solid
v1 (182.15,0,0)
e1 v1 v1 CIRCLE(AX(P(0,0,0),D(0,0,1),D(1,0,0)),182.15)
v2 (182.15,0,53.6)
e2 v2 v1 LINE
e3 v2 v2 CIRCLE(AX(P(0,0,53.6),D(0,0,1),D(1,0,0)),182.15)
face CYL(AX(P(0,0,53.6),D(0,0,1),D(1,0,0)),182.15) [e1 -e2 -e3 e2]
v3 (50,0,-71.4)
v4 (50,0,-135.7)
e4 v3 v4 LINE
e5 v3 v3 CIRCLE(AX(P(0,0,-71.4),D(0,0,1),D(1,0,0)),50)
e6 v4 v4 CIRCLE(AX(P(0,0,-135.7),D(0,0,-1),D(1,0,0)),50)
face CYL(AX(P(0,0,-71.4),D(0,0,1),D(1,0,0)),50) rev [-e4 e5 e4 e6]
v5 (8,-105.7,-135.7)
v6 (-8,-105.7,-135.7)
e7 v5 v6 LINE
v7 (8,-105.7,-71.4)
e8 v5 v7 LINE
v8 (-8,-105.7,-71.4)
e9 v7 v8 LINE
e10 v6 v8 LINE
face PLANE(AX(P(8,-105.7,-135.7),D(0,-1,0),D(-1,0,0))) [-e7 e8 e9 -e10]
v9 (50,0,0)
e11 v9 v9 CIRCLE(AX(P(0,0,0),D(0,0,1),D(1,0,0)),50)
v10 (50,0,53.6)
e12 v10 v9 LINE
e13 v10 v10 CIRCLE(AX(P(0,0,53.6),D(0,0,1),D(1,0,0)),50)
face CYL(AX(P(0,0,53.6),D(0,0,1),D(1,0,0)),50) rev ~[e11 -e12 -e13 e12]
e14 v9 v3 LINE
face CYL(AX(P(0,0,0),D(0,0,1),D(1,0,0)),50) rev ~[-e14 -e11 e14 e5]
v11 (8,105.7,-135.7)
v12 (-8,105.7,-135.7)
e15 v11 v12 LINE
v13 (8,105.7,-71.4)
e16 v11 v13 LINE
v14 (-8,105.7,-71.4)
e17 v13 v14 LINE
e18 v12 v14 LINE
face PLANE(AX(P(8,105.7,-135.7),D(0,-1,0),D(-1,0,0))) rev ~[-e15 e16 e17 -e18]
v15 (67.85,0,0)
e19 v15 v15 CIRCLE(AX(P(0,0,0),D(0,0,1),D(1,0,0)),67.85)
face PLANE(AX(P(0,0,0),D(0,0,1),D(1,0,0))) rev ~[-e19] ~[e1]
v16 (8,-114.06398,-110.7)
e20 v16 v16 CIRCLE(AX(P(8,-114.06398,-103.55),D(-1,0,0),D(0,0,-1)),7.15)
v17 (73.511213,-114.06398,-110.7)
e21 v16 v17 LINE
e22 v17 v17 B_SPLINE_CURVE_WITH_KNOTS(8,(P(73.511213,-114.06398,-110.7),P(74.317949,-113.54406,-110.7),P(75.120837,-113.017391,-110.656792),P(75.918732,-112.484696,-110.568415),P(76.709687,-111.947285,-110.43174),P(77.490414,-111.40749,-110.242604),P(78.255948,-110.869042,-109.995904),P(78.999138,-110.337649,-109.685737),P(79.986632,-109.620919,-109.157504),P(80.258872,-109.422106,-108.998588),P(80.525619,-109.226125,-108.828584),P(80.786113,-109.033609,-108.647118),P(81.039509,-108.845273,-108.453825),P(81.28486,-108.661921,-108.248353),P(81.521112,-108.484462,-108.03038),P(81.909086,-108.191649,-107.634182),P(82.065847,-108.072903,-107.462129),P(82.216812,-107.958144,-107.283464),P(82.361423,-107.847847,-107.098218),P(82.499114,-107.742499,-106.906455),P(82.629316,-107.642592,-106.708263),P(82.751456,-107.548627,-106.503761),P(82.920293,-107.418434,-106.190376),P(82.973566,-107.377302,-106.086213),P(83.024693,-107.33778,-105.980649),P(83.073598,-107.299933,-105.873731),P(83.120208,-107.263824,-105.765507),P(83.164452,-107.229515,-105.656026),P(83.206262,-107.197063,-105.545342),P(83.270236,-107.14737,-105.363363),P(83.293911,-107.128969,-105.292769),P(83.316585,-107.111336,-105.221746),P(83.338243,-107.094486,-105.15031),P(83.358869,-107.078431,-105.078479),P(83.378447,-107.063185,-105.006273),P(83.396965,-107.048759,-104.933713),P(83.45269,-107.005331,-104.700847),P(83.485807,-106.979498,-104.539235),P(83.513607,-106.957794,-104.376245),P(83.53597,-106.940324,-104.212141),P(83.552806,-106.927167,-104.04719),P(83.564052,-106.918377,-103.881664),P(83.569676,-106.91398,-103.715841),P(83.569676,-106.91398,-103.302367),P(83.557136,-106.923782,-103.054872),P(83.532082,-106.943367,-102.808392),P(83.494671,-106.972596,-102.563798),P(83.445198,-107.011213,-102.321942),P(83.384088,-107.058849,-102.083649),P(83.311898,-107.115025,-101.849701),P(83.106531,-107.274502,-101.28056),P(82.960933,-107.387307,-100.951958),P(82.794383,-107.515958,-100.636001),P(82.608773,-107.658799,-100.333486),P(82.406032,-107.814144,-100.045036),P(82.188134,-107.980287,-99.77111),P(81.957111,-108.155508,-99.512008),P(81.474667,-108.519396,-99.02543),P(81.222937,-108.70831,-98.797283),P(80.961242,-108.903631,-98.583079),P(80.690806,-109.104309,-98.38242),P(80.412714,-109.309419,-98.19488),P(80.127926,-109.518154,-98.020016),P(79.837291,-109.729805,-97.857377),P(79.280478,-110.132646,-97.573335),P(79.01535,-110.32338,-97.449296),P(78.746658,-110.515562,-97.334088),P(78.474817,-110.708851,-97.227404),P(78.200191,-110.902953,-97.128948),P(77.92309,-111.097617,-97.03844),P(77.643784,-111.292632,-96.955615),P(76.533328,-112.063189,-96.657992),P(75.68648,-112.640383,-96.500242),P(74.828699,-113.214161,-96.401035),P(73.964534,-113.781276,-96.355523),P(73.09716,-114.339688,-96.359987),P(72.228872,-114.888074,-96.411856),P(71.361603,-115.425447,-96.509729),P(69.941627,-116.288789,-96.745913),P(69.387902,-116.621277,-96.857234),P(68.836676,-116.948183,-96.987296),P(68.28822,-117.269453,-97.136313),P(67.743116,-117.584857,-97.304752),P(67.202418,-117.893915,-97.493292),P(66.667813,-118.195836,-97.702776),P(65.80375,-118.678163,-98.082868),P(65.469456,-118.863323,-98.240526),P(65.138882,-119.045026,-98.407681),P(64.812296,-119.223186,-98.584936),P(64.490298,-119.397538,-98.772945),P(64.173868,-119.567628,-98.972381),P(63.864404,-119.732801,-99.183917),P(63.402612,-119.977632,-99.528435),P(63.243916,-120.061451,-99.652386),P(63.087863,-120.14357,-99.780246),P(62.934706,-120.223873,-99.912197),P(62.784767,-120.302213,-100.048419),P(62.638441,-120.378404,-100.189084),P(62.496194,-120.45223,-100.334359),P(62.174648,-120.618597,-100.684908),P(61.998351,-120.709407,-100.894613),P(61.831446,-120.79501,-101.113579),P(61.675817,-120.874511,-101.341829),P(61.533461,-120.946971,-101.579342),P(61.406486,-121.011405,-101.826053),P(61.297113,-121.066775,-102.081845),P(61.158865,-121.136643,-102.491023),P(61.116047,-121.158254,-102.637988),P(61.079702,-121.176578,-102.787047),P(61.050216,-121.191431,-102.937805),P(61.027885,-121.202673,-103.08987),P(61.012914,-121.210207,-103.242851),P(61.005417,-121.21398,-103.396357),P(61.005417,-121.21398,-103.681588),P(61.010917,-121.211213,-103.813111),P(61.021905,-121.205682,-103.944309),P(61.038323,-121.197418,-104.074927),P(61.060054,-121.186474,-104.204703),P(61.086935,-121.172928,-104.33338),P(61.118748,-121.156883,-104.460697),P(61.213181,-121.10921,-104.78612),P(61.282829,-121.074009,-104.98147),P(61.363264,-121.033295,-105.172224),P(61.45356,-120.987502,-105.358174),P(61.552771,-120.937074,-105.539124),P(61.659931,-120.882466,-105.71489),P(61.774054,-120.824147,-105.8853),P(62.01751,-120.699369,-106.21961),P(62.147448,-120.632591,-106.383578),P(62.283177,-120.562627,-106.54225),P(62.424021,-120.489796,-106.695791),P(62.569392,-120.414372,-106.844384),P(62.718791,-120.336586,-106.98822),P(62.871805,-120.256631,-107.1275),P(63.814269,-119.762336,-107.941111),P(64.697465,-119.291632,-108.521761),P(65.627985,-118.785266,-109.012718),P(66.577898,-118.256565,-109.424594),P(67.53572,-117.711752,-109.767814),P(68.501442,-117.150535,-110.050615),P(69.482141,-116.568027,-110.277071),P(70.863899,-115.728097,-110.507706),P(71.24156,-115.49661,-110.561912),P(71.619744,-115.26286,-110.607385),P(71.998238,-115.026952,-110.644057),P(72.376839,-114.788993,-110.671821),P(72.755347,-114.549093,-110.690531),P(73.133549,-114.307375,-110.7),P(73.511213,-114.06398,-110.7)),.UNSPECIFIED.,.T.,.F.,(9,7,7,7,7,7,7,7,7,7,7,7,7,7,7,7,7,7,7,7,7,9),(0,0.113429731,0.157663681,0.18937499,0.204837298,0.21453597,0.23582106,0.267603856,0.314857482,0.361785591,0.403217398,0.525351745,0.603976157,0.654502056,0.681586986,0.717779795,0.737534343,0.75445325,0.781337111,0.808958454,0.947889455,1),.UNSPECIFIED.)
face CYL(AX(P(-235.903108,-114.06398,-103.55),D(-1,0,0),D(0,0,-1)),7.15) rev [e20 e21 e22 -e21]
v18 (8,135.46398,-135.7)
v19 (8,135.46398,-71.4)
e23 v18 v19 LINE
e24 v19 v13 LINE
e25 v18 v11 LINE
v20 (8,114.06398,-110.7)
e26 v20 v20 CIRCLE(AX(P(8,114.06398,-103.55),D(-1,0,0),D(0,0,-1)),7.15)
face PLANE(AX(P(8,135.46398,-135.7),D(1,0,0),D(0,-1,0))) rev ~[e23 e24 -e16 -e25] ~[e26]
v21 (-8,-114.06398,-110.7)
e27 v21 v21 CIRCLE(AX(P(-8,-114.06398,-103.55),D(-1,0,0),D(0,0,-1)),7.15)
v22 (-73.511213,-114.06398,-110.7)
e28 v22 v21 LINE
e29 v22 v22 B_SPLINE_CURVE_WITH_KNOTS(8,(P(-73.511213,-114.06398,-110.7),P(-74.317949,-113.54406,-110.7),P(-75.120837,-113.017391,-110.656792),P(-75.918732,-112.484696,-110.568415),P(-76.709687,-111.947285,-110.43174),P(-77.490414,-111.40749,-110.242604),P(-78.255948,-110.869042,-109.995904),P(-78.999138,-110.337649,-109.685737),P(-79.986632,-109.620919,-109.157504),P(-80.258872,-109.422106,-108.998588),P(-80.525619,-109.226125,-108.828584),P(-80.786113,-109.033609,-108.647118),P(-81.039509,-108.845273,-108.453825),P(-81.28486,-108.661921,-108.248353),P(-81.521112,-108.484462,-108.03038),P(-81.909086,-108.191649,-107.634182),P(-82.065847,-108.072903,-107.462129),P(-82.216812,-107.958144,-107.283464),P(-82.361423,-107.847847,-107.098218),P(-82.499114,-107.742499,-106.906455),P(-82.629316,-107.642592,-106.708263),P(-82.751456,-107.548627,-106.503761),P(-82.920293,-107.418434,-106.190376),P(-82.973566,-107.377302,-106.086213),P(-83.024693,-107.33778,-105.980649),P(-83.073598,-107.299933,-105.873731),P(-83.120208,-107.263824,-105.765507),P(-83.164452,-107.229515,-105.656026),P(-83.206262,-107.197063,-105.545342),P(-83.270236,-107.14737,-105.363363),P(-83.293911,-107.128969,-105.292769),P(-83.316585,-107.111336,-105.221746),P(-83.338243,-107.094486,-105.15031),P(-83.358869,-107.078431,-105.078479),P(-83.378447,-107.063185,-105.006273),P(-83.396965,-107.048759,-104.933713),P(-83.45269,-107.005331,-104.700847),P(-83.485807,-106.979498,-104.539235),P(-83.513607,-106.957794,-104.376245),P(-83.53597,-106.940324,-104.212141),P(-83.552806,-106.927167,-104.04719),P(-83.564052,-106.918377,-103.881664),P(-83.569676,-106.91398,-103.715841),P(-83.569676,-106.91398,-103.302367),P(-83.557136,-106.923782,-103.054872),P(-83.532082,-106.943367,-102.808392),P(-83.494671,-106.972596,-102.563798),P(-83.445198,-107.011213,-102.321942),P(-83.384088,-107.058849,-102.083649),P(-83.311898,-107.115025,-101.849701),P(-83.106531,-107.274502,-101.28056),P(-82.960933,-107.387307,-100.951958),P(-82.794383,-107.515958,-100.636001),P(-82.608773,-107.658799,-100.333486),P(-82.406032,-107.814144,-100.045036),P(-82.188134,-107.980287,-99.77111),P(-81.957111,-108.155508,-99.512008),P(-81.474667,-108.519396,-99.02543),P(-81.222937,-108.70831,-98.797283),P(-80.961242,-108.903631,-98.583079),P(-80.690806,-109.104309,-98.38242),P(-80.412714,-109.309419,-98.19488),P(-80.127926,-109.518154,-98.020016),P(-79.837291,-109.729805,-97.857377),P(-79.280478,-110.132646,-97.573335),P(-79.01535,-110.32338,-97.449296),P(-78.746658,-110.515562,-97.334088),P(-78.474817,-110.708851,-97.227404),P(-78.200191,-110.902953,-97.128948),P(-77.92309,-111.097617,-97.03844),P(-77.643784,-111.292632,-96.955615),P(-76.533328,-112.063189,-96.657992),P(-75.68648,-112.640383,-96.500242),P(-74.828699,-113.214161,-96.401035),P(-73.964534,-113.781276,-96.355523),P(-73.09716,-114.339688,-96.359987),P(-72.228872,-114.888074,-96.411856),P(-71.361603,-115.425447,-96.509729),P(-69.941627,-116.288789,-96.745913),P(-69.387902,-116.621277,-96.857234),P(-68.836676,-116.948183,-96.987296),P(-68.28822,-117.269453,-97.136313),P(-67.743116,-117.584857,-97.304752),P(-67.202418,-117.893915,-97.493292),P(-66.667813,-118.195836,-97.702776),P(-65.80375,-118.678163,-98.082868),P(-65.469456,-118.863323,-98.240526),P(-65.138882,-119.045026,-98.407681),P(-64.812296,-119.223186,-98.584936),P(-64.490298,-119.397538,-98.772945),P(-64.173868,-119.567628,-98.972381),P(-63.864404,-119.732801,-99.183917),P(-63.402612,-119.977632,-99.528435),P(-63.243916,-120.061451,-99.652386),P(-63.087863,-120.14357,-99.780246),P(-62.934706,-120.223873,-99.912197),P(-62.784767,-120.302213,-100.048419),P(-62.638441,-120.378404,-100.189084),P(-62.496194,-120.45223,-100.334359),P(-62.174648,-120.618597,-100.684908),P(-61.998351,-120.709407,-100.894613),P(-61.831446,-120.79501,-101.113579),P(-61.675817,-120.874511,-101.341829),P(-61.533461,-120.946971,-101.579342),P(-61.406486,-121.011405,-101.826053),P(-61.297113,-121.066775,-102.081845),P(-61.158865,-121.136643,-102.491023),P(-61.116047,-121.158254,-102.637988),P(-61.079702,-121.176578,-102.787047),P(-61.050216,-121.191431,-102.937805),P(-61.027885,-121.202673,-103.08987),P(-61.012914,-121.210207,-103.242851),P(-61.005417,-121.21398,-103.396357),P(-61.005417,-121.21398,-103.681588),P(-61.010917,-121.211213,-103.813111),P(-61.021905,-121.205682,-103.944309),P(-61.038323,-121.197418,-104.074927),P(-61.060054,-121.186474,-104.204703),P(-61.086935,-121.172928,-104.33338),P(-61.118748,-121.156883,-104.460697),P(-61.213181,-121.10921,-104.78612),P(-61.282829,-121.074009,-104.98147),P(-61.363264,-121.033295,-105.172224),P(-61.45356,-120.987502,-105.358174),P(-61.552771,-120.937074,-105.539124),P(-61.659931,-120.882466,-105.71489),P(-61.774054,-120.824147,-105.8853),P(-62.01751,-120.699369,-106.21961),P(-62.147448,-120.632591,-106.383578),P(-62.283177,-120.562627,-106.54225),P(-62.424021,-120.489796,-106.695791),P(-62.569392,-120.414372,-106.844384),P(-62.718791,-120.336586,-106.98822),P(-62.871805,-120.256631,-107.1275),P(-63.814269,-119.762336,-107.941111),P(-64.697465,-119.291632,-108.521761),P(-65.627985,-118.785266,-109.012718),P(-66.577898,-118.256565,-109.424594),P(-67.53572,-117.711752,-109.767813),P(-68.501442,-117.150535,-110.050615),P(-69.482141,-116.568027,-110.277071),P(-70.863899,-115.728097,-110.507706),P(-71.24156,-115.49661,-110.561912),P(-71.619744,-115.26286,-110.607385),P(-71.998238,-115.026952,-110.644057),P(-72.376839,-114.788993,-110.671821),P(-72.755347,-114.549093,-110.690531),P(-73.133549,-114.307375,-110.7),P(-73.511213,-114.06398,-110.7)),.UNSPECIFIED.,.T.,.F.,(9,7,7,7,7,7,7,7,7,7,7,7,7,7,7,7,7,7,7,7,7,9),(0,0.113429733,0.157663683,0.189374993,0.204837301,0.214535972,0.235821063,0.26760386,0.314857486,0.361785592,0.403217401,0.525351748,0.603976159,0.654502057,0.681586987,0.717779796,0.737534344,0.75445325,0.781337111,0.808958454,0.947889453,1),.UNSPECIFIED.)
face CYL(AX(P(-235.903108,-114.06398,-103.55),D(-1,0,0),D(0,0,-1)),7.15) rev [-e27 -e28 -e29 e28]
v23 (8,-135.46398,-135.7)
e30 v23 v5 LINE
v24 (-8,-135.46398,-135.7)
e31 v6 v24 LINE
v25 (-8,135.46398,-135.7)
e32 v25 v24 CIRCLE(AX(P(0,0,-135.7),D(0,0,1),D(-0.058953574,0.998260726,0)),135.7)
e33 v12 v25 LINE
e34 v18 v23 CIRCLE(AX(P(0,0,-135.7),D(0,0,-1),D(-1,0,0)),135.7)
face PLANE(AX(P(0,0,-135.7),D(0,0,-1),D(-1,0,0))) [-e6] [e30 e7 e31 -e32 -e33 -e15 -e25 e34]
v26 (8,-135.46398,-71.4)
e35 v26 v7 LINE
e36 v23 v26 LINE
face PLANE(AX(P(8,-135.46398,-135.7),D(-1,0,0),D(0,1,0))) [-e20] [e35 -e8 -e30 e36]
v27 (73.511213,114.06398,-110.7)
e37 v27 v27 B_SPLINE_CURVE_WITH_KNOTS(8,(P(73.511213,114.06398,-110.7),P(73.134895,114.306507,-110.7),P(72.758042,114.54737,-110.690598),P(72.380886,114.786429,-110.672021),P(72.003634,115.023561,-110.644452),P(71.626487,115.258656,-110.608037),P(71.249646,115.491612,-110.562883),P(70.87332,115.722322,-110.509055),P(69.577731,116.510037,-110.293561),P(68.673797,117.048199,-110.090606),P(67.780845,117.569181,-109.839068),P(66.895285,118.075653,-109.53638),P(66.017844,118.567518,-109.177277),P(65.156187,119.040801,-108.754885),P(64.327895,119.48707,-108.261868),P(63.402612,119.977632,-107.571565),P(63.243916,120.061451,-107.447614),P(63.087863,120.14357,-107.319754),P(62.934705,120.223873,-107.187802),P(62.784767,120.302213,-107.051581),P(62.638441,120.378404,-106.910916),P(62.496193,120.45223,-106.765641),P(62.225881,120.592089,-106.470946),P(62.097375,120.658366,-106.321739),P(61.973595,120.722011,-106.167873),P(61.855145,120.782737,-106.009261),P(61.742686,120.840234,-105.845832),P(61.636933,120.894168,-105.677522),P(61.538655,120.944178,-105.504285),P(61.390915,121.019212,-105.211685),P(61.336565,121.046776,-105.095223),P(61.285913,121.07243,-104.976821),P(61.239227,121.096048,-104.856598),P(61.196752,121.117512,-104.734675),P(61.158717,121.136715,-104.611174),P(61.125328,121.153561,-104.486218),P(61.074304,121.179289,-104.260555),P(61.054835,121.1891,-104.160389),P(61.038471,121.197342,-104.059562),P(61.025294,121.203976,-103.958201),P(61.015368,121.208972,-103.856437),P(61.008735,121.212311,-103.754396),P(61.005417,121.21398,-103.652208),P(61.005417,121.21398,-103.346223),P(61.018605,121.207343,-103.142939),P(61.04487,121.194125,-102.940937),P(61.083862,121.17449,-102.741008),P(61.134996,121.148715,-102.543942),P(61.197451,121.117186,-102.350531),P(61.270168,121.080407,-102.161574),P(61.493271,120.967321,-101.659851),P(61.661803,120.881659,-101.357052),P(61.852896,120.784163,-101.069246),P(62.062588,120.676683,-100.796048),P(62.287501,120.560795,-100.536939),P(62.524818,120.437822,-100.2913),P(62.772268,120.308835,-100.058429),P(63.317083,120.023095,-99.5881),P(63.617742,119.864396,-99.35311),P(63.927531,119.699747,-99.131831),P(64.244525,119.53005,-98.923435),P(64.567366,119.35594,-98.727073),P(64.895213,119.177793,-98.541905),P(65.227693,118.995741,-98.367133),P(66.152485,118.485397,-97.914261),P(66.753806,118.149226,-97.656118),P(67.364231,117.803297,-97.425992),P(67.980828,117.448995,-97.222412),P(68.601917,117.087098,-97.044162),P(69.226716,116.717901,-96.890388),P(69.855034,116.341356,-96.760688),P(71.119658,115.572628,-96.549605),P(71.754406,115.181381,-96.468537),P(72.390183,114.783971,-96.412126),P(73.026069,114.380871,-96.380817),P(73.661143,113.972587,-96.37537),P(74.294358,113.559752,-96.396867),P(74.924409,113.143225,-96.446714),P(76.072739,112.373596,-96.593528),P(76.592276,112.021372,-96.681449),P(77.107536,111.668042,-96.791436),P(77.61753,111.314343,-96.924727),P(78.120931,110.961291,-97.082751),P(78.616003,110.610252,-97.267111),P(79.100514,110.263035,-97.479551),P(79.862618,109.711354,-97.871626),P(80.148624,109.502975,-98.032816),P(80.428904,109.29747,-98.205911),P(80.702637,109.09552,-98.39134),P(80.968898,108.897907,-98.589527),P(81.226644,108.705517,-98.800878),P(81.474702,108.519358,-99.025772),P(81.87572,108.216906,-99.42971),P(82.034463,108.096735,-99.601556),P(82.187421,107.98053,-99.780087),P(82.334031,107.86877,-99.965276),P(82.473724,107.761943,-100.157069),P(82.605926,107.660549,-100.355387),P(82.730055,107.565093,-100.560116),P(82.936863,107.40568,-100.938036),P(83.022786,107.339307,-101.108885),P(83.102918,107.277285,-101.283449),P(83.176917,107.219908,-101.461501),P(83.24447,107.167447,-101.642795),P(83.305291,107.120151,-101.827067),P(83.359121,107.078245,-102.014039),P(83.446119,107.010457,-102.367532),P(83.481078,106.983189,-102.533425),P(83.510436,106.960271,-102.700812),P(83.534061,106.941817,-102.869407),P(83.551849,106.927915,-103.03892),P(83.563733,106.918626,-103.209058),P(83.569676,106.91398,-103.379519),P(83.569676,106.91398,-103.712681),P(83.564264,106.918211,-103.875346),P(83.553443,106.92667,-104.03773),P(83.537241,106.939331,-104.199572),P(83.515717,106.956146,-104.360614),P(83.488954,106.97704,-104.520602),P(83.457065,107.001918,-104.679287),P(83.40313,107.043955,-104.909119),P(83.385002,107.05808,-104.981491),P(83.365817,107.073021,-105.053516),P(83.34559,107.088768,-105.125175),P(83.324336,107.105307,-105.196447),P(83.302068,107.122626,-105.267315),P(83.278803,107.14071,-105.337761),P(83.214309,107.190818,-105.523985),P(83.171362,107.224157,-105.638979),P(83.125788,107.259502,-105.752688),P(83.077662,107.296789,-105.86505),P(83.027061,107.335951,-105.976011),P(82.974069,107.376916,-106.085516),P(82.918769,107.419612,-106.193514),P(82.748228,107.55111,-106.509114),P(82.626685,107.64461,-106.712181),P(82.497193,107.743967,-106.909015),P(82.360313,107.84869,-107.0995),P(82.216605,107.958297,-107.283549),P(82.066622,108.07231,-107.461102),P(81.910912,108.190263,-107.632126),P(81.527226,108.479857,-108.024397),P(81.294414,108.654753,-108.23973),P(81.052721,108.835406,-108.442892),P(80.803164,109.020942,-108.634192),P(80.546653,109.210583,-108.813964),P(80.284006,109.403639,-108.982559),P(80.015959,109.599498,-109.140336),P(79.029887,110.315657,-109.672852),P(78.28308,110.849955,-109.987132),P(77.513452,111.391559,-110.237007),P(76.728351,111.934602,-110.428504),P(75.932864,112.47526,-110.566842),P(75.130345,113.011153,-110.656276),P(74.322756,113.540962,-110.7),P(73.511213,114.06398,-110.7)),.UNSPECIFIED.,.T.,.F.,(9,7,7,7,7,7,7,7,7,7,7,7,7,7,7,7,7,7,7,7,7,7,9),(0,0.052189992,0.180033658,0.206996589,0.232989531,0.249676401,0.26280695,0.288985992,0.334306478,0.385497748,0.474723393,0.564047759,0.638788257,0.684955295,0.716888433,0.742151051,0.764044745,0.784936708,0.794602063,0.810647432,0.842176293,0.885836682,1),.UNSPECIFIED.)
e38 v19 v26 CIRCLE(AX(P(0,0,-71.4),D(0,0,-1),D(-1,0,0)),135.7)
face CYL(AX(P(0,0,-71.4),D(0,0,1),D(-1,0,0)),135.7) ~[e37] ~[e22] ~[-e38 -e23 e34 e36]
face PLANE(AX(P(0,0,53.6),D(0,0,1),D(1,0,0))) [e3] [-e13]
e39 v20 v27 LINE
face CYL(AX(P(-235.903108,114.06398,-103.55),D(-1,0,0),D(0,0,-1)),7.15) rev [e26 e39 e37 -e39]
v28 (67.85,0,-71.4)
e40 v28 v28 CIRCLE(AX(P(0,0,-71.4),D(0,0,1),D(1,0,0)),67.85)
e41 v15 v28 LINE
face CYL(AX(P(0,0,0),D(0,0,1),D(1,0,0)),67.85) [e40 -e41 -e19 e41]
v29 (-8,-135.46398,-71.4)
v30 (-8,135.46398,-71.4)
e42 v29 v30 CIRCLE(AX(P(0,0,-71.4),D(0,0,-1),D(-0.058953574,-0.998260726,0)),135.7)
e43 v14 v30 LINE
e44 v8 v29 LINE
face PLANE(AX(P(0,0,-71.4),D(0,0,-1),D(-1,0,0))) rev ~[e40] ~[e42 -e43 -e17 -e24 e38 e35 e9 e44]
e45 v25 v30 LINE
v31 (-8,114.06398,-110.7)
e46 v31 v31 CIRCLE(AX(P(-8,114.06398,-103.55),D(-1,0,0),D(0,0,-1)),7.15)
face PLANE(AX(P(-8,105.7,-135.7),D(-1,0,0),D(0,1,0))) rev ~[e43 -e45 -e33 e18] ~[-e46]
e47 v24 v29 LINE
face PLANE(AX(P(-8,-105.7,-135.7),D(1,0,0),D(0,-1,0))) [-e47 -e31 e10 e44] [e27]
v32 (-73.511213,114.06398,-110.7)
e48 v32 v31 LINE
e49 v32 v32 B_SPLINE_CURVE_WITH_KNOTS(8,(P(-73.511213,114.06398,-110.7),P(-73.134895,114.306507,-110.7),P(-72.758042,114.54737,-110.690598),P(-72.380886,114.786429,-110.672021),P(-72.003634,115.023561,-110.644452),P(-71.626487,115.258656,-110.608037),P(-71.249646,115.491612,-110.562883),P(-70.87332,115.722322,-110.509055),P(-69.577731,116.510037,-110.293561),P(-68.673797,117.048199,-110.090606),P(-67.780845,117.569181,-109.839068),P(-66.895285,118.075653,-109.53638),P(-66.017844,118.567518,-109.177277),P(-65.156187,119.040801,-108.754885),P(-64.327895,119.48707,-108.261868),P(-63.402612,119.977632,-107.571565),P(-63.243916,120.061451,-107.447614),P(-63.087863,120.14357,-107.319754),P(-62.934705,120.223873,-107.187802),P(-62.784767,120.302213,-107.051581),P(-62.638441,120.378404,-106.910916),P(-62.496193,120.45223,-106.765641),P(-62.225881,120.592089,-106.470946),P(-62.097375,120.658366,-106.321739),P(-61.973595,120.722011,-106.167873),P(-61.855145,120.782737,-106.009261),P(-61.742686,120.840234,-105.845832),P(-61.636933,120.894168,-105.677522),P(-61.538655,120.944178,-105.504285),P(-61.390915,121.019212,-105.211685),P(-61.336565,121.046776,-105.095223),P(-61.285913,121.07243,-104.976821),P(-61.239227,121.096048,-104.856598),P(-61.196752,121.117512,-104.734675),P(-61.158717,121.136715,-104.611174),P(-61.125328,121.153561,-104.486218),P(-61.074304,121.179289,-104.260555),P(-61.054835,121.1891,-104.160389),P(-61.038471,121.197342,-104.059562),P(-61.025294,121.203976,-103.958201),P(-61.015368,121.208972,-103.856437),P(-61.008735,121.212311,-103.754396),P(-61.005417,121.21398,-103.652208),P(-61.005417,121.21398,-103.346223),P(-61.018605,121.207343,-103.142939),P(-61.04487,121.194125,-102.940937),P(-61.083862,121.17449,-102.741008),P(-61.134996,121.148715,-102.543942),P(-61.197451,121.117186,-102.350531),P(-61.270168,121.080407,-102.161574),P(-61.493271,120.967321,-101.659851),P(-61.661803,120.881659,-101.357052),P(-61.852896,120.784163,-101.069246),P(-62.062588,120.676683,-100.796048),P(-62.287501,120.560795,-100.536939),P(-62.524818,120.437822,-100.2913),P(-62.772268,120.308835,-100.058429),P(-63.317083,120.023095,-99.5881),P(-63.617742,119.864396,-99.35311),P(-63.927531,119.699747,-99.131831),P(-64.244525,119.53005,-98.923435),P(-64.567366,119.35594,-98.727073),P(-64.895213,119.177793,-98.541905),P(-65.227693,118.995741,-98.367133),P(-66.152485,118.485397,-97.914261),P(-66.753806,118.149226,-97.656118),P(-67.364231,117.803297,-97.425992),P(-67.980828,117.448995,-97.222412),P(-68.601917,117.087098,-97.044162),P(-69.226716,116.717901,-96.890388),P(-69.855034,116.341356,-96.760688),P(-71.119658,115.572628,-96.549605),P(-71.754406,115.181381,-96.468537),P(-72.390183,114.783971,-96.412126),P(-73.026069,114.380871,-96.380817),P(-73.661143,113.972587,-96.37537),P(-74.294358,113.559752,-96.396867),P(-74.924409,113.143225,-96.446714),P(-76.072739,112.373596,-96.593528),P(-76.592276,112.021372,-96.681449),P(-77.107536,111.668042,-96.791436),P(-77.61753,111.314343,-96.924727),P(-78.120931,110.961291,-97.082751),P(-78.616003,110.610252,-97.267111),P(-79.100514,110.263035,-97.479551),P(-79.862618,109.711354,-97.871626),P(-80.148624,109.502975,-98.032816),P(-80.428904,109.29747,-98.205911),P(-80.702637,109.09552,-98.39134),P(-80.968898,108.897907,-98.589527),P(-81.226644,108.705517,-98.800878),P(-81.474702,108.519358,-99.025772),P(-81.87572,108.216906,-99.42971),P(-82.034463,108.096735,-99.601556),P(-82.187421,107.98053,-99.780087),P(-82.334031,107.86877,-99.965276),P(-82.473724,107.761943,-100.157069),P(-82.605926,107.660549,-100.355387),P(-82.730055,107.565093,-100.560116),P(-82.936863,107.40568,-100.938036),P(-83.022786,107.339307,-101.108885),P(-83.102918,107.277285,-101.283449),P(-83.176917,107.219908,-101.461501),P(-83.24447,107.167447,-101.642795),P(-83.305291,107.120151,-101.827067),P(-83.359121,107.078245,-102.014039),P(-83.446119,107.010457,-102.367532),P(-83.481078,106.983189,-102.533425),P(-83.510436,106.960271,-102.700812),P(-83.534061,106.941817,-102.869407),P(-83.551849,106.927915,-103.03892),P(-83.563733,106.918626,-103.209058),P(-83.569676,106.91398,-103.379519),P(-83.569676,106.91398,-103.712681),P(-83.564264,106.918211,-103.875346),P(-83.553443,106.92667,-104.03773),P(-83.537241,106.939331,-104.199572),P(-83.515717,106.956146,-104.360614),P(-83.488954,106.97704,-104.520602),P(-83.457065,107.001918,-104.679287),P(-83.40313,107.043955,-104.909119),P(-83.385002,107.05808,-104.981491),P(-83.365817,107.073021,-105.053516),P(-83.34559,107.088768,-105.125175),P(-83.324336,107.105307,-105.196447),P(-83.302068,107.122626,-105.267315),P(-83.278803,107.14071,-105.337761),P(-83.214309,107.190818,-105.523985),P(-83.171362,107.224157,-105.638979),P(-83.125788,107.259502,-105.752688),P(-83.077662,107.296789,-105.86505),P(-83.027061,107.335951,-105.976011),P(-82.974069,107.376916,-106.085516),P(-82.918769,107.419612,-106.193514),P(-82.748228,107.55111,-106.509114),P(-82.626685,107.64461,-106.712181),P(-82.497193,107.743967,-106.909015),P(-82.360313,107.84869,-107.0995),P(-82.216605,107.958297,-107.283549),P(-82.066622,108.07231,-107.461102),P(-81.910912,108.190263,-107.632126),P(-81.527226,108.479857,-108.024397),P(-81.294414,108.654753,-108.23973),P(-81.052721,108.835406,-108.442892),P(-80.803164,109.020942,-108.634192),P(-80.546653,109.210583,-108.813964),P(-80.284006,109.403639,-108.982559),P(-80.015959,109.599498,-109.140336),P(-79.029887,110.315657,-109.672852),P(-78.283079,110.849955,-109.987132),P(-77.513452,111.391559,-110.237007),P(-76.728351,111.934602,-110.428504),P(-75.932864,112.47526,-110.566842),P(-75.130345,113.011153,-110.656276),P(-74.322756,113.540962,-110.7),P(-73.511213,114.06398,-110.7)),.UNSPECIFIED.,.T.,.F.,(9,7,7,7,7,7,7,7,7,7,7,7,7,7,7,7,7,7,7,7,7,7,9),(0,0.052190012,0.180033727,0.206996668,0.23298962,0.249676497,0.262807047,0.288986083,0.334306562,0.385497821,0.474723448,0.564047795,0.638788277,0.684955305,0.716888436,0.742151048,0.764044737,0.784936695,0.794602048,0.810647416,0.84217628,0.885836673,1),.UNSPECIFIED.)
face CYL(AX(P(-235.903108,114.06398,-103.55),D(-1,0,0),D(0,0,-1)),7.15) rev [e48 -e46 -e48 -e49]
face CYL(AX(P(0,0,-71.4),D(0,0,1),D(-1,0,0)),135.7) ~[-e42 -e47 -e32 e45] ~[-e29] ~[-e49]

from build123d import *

# Parameters (mm, degrees)
ESQUISSE1_R                  = 67.85
ESQUISSE1_R_2                = 50
BOSS_EXTRU_1_DEPTH           = 71.4
ESQUISSE3_R                  = 135.7
ESQUISSE3_R_2                = 50
BOSS_EXTRU_2_DEPTH           = 64.3
ENL_V_MAT_EXTRU_2_DEPTH      = 236.039294587
ENL_V_MAT_EXTRU_3_DEPTH      = 235.903107685
ENL_V_MAT_EXTRU_3_DEPTH_BACK = 235.903107685
ESQUISSE7_R                  = 7.15
BOSS_EXTRU_3_START           = 53.6
ESQUISSE8_R                  = 182.15
ESQUISSE8_R_2                = 50
BOSS_EXTRU_3_DEPTH           = 53.6


with BuildPart() as part:
    # Esquisse1 → Boss.-Extru.1 (new body)
    with BuildSketch(Plane.XY):
        Circle(ESQUISSE1_R)
        Circle(ESQUISSE1_R_2, mode=Mode.SUBTRACT)
    extrude(amount=-BOSS_EXTRU_1_DEPTH)

    # Esquisse3 → Boss.-Extru.2 (add)
    with BuildSketch(Plane(origin=(0, 0, -71.4), x_dir=(-1, 0, 0), z_dir=(0, 0, -1))):
        Circle(ESQUISSE3_R)
        with Locations(Location((0, 0, 0), (0, 0, 180))):
            Circle(ESQUISSE3_R_2, mode=Mode.SUBTRACT)
    extrude(amount=BOSS_EXTRU_2_DEPTH)

    # Esquisse6 → Enlèv. mat.-Extru.2 (cut, through all)
    with BuildSketch(Plane(origin=(0, 0, -135.7), x_dir=(-1, 0, 0), z_dir=(0, 0, -1))):
        with BuildLine():
            Line((-8, 105.7), (8, 105.7))
            Line((8, 105.7), (8, 135.463980452))
            ThreePointArc((8, 135.463980452), (0, 135.7), (-8, 135.463980452))
            Line((-8, 135.463980452), (-8, 105.7))
        make_face()
        with BuildLine():
            Line((8, -105.7), (8, -135.463980452))
            ThreePointArc((8, -135.463980452), (0, -135.7), (-8, -135.463980452))
            Line((-8, -135.463980452), (-8, -105.7))
            Line((-8, -105.7), (8, -105.7))
        make_face()
    extrude(amount=-ENL_V_MAT_EXTRU_2_DEPTH, mode=Mode.SUBTRACT)

    # Esquisse7 → Enlèv. mat.-Extru.3 (cut, two sides: drawn at the far end of the back side and taken through both)
    with BuildSketch(Plane(origin=(0, 0, 0), x_dir=(0, 0, -1), z_dir=(1, 0, 0)).offset(-ENL_V_MAT_EXTRU_3_DEPTH_BACK)):
        with Locations((103.55, 114.063980452)):
            Circle(ESQUISSE7_R)
        with Locations((103.55, -114.063980452)):
            Circle(ESQUISSE7_R)
    extrude(amount=ENL_V_MAT_EXTRU_3_DEPTH + ENL_V_MAT_EXTRU_3_DEPTH_BACK, mode=Mode.SUBTRACT)

    # Esquisse8 → Boss.-Extru.3 (add)
    with BuildSketch(Plane.XY.offset(BOSS_EXTRU_3_START)):
        Circle(ESQUISSE8_R)
        Circle(ESQUISSE8_R_2, mode=Mode.SUBTRACT)
    extrude(amount=-BOSS_EXTRU_3_DEPTH)


solid = part.part
